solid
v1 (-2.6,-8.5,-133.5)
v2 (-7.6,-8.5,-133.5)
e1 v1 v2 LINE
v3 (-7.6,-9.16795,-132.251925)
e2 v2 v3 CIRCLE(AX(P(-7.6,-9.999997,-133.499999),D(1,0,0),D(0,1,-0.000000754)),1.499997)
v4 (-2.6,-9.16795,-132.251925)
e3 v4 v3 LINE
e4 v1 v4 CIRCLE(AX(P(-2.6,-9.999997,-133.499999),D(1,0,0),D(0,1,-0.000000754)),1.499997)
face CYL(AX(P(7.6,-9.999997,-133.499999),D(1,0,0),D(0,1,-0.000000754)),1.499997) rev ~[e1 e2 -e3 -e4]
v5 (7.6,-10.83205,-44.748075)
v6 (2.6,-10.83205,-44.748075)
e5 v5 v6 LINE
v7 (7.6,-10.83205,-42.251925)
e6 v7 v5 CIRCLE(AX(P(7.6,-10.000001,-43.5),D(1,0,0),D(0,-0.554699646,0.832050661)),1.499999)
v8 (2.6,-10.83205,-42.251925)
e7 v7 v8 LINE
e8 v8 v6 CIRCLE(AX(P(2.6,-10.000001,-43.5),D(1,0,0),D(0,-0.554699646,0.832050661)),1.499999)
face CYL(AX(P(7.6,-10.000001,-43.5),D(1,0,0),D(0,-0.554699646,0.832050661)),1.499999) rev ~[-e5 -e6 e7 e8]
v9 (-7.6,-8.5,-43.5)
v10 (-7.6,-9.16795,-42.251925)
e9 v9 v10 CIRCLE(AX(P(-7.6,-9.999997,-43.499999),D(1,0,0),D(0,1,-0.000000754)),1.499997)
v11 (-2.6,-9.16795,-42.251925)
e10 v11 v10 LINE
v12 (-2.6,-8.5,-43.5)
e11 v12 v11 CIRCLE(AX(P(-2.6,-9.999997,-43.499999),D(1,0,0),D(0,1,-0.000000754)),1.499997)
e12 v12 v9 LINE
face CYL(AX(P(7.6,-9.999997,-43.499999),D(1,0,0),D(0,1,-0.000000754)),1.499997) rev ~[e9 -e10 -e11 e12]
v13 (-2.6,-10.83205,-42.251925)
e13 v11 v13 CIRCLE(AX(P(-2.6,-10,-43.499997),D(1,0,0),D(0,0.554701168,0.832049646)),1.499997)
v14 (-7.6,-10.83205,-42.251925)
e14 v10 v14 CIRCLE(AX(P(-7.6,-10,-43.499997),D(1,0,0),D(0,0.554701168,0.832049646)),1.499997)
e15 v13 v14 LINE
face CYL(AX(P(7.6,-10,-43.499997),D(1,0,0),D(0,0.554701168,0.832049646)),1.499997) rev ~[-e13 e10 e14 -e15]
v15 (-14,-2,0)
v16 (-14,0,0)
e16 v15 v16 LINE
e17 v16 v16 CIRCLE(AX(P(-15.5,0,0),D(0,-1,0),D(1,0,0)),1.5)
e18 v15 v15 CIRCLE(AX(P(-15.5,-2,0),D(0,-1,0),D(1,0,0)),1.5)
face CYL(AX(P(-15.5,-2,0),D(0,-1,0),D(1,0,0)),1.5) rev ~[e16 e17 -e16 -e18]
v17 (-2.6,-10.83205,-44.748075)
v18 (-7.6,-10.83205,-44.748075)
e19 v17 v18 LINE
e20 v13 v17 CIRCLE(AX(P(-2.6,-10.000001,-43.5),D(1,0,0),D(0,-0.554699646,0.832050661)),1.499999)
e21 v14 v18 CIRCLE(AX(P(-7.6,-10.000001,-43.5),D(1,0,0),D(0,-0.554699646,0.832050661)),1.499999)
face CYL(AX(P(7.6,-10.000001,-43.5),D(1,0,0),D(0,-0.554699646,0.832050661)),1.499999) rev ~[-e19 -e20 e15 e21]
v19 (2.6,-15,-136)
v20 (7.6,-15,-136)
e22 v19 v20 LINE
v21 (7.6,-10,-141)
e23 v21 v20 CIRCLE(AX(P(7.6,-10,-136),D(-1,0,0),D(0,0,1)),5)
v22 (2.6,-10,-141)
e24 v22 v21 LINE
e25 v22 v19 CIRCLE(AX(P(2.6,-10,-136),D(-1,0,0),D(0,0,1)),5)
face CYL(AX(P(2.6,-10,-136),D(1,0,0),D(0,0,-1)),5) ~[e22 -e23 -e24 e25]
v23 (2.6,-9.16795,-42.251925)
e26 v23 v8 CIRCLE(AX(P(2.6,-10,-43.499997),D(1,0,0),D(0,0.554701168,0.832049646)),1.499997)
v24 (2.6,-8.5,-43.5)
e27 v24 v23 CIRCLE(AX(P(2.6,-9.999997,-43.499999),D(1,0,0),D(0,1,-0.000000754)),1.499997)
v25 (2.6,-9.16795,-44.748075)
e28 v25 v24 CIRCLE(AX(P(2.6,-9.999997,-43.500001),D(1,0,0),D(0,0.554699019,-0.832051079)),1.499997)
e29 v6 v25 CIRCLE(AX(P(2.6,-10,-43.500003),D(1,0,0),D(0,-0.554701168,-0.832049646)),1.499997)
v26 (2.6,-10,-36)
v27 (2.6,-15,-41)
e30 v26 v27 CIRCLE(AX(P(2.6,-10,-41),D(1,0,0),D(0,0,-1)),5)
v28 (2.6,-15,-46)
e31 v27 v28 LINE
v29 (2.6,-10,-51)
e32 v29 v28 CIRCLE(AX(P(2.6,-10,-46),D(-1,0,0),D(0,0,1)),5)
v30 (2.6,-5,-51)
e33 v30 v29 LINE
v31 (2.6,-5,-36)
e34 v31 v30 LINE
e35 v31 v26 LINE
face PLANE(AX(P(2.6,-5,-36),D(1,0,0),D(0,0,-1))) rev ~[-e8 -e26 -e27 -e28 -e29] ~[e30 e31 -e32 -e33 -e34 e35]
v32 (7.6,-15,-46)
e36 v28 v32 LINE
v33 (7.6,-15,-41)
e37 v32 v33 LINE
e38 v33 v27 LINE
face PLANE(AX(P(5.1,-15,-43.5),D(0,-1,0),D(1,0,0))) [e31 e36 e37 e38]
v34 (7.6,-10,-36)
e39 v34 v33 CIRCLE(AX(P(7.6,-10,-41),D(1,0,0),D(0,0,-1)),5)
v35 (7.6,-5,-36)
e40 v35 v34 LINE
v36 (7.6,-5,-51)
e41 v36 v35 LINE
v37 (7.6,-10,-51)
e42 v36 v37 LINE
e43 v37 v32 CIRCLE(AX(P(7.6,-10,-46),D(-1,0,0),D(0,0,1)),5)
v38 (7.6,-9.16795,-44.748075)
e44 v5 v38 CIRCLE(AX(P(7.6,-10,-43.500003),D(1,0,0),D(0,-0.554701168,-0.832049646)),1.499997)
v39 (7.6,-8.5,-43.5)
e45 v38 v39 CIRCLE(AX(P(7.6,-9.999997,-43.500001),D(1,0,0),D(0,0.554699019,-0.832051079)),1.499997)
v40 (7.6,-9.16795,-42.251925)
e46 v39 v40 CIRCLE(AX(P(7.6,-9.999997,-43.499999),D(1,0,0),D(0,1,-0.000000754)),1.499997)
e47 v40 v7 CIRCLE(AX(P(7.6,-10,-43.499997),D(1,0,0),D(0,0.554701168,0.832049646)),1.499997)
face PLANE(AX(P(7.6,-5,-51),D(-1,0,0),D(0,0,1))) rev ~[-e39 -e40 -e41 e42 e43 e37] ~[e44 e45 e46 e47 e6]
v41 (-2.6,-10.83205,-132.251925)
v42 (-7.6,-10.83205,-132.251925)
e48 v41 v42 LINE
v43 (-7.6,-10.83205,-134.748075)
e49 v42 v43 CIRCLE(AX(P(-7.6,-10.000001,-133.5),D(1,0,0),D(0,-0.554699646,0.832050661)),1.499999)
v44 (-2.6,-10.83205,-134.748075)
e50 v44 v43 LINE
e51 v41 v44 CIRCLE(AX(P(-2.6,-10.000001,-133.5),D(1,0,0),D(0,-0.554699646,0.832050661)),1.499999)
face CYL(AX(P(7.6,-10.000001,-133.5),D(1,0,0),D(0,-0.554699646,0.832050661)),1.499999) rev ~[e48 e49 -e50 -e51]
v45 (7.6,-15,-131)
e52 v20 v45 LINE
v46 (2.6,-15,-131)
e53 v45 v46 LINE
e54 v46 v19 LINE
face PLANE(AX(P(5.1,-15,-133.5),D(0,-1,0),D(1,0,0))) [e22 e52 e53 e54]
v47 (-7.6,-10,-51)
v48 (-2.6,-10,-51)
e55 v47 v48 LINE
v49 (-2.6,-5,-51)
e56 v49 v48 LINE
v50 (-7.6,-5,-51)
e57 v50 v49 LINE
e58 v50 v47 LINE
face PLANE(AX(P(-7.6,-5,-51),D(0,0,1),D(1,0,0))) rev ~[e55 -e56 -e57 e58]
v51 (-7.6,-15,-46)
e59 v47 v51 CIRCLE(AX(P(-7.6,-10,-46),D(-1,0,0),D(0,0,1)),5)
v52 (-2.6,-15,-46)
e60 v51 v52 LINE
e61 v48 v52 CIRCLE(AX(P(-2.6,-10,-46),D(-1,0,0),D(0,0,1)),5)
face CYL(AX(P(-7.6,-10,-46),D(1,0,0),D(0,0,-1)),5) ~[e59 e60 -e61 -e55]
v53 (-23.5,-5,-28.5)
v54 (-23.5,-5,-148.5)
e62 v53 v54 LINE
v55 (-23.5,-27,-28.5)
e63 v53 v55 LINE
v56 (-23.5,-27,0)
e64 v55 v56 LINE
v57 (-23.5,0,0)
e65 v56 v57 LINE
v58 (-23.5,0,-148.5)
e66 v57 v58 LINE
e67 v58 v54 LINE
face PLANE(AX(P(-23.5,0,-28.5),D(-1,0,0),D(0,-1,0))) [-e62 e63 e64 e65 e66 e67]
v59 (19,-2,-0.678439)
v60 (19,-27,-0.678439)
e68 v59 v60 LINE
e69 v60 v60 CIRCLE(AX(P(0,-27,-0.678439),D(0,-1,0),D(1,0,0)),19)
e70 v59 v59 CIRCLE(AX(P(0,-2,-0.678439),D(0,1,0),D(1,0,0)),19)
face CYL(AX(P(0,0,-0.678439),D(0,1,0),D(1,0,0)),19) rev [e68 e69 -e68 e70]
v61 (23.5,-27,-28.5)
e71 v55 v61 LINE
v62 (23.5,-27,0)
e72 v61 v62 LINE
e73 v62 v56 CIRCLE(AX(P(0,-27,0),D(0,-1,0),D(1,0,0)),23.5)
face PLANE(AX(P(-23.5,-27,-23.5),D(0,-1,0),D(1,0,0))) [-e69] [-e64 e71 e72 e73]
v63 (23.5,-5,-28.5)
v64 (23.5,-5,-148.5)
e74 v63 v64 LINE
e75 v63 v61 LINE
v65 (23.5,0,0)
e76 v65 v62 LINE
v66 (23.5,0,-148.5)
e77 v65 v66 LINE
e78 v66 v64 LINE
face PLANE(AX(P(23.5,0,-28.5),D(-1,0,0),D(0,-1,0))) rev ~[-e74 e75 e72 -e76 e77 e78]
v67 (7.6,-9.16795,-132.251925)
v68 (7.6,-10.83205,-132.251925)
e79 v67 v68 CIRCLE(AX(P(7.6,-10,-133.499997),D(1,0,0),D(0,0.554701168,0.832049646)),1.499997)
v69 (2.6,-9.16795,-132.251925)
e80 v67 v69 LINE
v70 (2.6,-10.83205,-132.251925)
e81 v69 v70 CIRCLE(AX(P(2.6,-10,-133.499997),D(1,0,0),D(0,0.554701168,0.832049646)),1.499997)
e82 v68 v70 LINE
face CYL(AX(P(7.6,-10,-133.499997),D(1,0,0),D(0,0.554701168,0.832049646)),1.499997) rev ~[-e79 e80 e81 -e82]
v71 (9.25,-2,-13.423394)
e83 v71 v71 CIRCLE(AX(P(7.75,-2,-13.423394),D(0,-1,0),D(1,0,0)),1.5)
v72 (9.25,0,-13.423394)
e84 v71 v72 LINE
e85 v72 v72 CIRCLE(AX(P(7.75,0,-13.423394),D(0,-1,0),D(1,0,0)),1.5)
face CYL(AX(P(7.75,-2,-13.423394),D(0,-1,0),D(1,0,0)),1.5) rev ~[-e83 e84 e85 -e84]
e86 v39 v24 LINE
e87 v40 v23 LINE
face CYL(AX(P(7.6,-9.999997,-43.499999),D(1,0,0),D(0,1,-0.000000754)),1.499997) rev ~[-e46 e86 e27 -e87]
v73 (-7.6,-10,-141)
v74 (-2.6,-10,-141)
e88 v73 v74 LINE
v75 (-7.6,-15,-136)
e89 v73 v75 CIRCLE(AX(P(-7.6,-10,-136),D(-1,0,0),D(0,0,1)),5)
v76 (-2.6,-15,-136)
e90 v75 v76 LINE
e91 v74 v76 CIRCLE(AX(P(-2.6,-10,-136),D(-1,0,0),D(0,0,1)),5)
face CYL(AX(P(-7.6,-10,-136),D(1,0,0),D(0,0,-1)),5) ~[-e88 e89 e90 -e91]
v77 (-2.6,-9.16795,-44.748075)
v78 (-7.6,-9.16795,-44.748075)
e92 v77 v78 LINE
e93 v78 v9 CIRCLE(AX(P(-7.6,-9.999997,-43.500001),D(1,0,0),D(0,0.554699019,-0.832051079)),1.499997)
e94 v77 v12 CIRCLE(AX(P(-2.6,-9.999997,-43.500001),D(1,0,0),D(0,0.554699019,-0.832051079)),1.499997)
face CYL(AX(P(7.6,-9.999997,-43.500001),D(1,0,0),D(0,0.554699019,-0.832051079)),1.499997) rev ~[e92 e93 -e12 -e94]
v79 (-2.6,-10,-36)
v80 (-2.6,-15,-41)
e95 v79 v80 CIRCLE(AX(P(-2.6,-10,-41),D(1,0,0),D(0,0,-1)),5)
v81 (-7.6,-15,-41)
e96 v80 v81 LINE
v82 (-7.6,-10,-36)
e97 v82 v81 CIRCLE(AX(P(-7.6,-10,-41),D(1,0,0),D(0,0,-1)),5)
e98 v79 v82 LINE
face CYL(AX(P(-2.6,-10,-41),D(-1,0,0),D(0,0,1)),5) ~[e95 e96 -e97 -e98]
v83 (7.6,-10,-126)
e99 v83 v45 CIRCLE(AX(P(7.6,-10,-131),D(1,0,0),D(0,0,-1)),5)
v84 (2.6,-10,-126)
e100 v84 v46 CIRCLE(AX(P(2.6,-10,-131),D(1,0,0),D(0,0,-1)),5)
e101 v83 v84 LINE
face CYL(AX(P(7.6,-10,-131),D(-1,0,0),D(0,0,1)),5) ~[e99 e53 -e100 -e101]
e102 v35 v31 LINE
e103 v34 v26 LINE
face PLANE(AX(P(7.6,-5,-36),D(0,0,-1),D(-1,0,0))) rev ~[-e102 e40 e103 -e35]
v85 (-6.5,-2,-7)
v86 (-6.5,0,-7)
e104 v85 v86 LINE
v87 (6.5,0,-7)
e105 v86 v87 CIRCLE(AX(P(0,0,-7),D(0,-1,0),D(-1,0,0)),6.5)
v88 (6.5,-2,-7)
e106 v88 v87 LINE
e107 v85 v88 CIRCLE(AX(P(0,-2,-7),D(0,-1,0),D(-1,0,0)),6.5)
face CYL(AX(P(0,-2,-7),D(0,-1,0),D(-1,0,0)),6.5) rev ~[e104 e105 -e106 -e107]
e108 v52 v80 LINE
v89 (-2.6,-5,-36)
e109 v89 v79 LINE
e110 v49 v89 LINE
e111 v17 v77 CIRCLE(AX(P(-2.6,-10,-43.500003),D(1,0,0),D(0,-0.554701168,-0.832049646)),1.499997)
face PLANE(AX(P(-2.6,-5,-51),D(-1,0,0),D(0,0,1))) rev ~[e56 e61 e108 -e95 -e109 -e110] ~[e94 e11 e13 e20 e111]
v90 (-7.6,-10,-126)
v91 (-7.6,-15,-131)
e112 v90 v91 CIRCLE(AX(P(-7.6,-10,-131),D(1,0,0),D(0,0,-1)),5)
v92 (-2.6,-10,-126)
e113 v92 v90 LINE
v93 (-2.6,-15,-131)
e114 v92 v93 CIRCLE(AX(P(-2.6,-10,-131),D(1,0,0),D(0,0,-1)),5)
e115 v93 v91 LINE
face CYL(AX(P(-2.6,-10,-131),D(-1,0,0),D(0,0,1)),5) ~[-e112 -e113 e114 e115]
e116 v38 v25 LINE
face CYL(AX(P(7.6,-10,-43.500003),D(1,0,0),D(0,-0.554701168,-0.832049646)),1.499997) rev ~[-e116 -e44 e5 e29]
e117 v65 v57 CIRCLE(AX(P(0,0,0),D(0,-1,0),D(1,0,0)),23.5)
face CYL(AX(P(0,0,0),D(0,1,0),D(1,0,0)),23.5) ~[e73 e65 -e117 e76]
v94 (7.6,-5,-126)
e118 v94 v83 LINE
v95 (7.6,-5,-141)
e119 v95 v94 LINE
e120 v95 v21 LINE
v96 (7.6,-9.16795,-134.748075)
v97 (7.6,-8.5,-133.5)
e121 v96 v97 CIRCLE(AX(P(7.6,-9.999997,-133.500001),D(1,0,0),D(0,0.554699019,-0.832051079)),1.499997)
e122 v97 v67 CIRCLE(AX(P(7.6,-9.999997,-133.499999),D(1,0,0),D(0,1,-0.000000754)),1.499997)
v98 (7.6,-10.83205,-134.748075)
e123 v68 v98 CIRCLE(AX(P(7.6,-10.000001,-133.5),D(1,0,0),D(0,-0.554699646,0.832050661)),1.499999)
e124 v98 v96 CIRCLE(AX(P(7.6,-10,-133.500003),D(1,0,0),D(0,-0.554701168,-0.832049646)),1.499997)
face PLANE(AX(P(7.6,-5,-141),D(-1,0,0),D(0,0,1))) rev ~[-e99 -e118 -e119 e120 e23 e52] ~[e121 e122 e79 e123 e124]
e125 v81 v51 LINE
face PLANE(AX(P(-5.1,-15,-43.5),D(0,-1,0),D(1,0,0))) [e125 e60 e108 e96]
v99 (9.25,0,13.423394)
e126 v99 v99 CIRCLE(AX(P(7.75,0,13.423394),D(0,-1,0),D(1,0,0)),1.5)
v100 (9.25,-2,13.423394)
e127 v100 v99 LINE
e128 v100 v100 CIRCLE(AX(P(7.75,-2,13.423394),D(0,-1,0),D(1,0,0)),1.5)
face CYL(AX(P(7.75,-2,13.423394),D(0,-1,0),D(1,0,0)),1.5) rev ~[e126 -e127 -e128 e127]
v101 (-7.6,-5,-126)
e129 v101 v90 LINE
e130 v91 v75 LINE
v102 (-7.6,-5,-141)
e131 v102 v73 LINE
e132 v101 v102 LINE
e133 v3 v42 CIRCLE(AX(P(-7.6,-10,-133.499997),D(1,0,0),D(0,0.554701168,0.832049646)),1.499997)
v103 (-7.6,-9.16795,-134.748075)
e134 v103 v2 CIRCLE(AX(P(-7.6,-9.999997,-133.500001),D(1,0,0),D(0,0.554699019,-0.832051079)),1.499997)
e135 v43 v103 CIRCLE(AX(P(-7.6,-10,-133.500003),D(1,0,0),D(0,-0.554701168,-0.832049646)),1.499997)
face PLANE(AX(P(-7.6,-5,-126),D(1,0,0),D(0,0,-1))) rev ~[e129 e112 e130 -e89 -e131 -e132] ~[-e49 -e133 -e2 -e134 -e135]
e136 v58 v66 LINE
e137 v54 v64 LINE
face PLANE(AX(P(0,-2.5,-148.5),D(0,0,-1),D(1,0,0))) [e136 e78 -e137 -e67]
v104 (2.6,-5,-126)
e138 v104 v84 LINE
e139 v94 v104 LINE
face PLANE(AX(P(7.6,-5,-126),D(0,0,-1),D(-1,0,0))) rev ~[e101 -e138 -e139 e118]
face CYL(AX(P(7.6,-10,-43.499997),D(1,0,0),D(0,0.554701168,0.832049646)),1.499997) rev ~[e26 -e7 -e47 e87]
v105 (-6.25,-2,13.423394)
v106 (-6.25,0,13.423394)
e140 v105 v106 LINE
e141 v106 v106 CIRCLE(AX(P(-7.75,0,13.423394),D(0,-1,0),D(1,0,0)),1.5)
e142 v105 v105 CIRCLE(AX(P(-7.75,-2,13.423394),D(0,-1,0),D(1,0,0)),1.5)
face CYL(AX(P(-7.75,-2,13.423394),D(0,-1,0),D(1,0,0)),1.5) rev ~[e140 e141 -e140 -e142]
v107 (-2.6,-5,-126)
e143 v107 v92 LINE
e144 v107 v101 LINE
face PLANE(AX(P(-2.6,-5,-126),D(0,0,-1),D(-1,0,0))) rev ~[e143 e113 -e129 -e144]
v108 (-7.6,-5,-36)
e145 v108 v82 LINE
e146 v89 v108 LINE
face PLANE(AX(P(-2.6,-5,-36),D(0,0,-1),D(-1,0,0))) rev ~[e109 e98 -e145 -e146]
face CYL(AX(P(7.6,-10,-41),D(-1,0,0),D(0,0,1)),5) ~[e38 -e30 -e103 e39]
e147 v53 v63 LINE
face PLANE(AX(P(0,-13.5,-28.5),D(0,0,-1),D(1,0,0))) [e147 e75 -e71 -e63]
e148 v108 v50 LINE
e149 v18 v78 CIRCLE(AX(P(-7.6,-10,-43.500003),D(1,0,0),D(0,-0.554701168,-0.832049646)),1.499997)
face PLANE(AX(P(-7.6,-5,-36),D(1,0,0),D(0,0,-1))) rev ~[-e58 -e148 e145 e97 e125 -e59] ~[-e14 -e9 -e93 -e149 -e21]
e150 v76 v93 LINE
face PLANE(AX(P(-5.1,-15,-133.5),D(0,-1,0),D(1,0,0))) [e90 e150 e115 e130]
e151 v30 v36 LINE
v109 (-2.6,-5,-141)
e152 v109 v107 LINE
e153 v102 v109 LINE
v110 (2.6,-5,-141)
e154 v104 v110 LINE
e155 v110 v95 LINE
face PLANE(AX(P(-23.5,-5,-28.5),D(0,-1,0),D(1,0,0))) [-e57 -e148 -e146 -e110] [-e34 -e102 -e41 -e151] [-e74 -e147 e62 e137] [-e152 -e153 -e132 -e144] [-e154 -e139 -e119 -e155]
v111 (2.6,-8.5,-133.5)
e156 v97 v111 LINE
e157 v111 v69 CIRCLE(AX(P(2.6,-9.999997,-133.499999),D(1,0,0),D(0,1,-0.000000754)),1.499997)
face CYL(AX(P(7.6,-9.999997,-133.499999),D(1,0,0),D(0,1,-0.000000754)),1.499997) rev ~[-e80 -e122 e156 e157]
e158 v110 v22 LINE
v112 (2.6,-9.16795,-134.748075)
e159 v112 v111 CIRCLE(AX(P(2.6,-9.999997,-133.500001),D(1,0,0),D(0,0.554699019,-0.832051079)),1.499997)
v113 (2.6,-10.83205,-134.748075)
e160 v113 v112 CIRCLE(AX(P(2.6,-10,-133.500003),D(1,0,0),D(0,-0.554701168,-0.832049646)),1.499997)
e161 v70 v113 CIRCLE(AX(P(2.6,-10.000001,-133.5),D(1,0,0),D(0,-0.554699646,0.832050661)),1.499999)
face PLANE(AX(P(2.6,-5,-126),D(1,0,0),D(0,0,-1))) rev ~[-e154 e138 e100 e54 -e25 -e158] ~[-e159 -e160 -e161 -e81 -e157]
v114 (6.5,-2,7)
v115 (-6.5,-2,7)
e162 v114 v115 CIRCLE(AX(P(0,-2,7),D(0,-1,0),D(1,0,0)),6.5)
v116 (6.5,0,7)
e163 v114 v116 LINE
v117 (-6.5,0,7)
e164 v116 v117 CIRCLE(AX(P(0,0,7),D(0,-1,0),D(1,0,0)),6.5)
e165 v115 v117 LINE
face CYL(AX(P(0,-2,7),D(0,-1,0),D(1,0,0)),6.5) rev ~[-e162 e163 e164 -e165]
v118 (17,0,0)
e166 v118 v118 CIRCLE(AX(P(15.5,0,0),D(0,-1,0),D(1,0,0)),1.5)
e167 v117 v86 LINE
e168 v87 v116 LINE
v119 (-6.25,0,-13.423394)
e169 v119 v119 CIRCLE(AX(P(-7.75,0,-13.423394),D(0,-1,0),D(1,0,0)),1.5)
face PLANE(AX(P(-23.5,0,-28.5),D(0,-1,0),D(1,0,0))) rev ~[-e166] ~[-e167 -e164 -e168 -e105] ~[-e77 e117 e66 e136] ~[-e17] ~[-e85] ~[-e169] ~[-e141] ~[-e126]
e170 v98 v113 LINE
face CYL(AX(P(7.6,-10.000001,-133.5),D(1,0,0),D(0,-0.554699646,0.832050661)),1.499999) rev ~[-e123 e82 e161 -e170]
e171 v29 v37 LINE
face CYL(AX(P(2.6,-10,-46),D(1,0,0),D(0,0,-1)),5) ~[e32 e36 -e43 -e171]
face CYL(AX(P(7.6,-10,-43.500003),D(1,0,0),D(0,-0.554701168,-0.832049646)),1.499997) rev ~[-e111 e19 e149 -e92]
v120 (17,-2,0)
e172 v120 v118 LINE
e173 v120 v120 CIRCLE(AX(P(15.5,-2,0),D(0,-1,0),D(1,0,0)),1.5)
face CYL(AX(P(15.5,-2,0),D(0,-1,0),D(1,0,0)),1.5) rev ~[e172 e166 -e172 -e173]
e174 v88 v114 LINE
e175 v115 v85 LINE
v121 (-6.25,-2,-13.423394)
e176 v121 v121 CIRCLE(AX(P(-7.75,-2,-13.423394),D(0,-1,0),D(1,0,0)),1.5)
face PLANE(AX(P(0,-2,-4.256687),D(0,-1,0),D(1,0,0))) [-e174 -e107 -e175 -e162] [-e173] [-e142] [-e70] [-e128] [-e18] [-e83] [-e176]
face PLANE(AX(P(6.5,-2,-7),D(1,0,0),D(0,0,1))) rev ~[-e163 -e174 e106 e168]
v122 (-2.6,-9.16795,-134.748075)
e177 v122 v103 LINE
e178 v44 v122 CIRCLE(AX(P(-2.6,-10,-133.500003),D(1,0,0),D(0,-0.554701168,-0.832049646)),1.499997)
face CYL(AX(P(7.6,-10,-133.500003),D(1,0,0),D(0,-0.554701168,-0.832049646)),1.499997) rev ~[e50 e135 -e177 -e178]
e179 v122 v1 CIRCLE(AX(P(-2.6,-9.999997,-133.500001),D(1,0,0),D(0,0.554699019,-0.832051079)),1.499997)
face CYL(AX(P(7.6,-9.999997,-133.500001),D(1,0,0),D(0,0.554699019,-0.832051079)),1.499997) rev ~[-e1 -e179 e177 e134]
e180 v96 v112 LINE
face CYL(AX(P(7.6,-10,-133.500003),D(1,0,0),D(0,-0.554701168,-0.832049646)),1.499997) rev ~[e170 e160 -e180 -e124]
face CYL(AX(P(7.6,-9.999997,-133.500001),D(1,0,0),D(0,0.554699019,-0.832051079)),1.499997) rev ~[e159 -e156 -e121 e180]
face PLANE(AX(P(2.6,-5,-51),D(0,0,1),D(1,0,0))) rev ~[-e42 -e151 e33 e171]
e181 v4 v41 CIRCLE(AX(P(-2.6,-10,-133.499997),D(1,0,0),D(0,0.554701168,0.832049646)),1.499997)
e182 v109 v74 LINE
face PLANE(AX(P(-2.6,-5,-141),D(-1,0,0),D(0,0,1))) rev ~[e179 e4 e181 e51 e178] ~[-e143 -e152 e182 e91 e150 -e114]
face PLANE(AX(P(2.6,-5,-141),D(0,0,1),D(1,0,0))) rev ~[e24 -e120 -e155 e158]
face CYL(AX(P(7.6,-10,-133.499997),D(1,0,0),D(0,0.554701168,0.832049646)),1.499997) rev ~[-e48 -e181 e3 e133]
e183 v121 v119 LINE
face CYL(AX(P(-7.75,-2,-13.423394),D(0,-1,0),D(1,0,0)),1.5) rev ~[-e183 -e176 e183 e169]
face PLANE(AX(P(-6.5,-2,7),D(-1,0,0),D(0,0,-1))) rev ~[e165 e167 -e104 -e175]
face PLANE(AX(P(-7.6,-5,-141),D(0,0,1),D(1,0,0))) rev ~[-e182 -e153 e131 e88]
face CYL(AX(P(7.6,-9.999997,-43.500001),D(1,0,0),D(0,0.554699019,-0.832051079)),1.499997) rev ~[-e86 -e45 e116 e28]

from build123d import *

# Parameters (mm, degrees)
F1_DEPTH  = 2
F2_R      = 1.5
F3_DEPTH  = 5
F4_R      = 19
F5_DEPTH  = 27
F6_W      = 47
F6_H      = 27
F7_DEPTH  = 5
F8_W      = 47
F8_H      = 5
F9_DEPTH  = 120
F11_DEPTH = 10
F13_DEPTH = 25
F15_DEPTH = 25
F16_R     = 5


with BuildPart() as f1:
    # F0 (on Front) → F1 (new body)
    with BuildSketch(Plane.XZ):
        with BuildLine():
            Line((-23.5, -23.5), (0, -23.5))
            Line((0, -23.5), (23.5, -23.5))
            Line((23.5, -23.5), (23.5, 0))
            ThreePointArc((23.5, 0), (0, 23.5), (-23.5, 0))
            Line((-23.5, 0), (-23.5, -23.5))
        make_face()
    extrude(amount=F1_DEPTH)

    # F2 (on face) → F3 (cut)
    with BuildSketch(Plane.XZ.offset(2)):
        with Locations((15.5, 0)):
            Circle(F2_R)
        with Locations((7.75, 13.423394)):
            Circle(F2_R)
        with Locations((-7.75, 13.423394)):
            Circle(F2_R)
        with Locations((-15.5, 0)):
            Circle(F2_R)
        with Locations((-7.75, -13.423394)):
            Circle(F2_R)
        with Locations((7.75, -13.423394)):
            Circle(F2_R)
        with BuildLine():
            Line((6.5, -7), (6.5, 7))
            ThreePointArc((6.5, 7), (0, 13.5), (-6.5, 7))
            Line((-6.5, 7), (-6.5, -7))
            ThreePointArc((-6.5, -7), (0, -13.5), (6.5, -7))
        make_face()
    extrude(amount=-F3_DEPTH, mode=Mode.SUBTRACT)

    # F4 (on Front) → F5 (join)
    with BuildSketch(Plane.XZ):
        with BuildLine():
            ThreePointArc((23.5, 0), (0, 23.5), (-23.5, 0))
            Line((-23.5, 0), (-23.5, -23.5))
            Line((-23.5, -23.5), (23.5, -23.5))
            Line((23.5, -23.5), (23.5, 0))
        make_face()
        with Locations((0, -0.678439)):
            Circle(F4_R, mode=Mode.SUBTRACT)
    extrude(amount=F5_DEPTH)

    # F6 (on face) → F7 (join)
    with BuildSketch(Plane(origin=(0, 0, -23.5), x_dir=(1, 0, 0), z_dir=(0, 0, -1))):
        with Locations((0, 13.5)):
            Rectangle(F6_W, F6_H)
    extrude(amount=F7_DEPTH)

    # F8 (on face) → F9 (join)
    with BuildSketch(Plane(origin=(0, 0, -28.5), x_dir=(1, 0, 0), z_dir=(0, 0, -1))):
        with Locations((0, 2.5)):
            Rectangle(F8_W, F8_H)
    extrude(amount=F9_DEPTH)

    # F10 (on face) → F11 (join)
    with BuildSketch(Plane.XZ.offset(5)):
        Polygon((-2.6, -51), (-2.6, -43.5), (-2.6, -36), (-7.6, -36), (-7.6, -51), align=None)
        Polygon((2.6, -126), (2.6, -133.5), (2.6, -141), (7.6, -141), (7.6, -126), align=None)
        Polygon((2.6, -36), (2.6, -43.5), (2.6, -51), (7.6, -51), (7.6, -36), align=None)
        Polygon((-2.6, -141), (-2.6, -133.5), (-2.6, -126), (-7.6, -126), (-7.6, -141), align=None)
    extrude(amount=F11_DEPTH)

    # F12 (on face) → F13 (cut)
    with BuildSketch(Plane.YZ.offset(7.6)):
        with BuildLine():
            ThreePointArc((-9.16795, -42.251925), (-10, -42), (-10.83205, -42.251925))
            Line((-10.83205, -42.251925), (-10, -43.5))
            Line((-10, -43.5), (-9.16795, -42.251925))
        make_face()
        with BuildLine():
            Line((-10, -43.5), (-10.83205, -42.251925))
            ThreePointArc((-10.83205, -42.251925), (-11.5, -43.5), (-10.83205, -44.748075))
            Line((-10.83205, -44.748075), (-10, -43.5))
        make_face()
        with BuildLine():
            Line((-9.16795, -42.251925), (-10, -43.5))
            Line((-10, -43.5), (-9.16795, -44.748075))
            ThreePointArc((-9.16795, -44.748075), (-8.677488, -44.207787), (-8.5, -43.5))
            ThreePointArc((-8.5, -43.5), (-8.677488, -42.792213), (-9.16795, -42.251925))
        make_face()
        with BuildLine():
            Line((-9.16795, -44.748075), (-10, -43.5))
            Line((-10, -43.5), (-10.83205, -44.748075))
            ThreePointArc((-10.83205, -44.748075), (-10, -45), (-9.16795, -44.748075))
        make_face()
    extrude(amount=-F13_DEPTH, mode=Mode.SUBTRACT)

    # F14 (on face) → F15 (cut)
    with BuildSketch(Plane.YZ.offset(7.6)):
        with BuildLine():
            ThreePointArc((-9.16795, -132.251925), (-10, -132), (-10.83205, -132.251925))
            Line((-10.83205, -132.251925), (-10, -133.5))
            Line((-10, -133.5), (-9.16795, -132.251925))
        make_face()
        with BuildLine():
            Line((-10, -133.5), (-10.83205, -132.251925))
            ThreePointArc((-10.83205, -132.251925), (-11.5, -133.5), (-10.83205, -134.748075))
            Line((-10.83205, -134.748075), (-10, -133.5))
        make_face()
        with BuildLine():
            Line((-9.16795, -132.251925), (-10, -133.5))
            Line((-10, -133.5), (-9.16795, -134.748075))
            ThreePointArc((-9.16795, -134.748075), (-8.677488, -134.207787), (-8.5, -133.5))
            ThreePointArc((-8.5, -133.5), (-8.677488, -132.792213), (-9.16795, -132.251925))
        make_face()
        with BuildLine():
            Line((-9.16795, -134.748075), (-10, -133.5))
            Line((-10, -133.5), (-10.83205, -134.748075))
            ThreePointArc((-10.83205, -134.748075), (-10, -135), (-9.16795, -134.748075))
        make_face()
    extrude(amount=-F15_DEPTH, mode=Mode.SUBTRACT)

    # F16
    f16_edges = [f1.edges().sort_by_distance(p)[0] for p in [
        (5.1, -15, -141),
        (5.1, -15, -126),
        (-5.1, -15, -126),
        (-5.1, -15, -141),
        (5.1, -15, -51),
        (5.1, -15, -36),
        (-5.1, -15, -36),
        (-5.1, -15, -51),
    ]]
    fillet(f16_edges, radius=F16_R)


solid = f1.part
